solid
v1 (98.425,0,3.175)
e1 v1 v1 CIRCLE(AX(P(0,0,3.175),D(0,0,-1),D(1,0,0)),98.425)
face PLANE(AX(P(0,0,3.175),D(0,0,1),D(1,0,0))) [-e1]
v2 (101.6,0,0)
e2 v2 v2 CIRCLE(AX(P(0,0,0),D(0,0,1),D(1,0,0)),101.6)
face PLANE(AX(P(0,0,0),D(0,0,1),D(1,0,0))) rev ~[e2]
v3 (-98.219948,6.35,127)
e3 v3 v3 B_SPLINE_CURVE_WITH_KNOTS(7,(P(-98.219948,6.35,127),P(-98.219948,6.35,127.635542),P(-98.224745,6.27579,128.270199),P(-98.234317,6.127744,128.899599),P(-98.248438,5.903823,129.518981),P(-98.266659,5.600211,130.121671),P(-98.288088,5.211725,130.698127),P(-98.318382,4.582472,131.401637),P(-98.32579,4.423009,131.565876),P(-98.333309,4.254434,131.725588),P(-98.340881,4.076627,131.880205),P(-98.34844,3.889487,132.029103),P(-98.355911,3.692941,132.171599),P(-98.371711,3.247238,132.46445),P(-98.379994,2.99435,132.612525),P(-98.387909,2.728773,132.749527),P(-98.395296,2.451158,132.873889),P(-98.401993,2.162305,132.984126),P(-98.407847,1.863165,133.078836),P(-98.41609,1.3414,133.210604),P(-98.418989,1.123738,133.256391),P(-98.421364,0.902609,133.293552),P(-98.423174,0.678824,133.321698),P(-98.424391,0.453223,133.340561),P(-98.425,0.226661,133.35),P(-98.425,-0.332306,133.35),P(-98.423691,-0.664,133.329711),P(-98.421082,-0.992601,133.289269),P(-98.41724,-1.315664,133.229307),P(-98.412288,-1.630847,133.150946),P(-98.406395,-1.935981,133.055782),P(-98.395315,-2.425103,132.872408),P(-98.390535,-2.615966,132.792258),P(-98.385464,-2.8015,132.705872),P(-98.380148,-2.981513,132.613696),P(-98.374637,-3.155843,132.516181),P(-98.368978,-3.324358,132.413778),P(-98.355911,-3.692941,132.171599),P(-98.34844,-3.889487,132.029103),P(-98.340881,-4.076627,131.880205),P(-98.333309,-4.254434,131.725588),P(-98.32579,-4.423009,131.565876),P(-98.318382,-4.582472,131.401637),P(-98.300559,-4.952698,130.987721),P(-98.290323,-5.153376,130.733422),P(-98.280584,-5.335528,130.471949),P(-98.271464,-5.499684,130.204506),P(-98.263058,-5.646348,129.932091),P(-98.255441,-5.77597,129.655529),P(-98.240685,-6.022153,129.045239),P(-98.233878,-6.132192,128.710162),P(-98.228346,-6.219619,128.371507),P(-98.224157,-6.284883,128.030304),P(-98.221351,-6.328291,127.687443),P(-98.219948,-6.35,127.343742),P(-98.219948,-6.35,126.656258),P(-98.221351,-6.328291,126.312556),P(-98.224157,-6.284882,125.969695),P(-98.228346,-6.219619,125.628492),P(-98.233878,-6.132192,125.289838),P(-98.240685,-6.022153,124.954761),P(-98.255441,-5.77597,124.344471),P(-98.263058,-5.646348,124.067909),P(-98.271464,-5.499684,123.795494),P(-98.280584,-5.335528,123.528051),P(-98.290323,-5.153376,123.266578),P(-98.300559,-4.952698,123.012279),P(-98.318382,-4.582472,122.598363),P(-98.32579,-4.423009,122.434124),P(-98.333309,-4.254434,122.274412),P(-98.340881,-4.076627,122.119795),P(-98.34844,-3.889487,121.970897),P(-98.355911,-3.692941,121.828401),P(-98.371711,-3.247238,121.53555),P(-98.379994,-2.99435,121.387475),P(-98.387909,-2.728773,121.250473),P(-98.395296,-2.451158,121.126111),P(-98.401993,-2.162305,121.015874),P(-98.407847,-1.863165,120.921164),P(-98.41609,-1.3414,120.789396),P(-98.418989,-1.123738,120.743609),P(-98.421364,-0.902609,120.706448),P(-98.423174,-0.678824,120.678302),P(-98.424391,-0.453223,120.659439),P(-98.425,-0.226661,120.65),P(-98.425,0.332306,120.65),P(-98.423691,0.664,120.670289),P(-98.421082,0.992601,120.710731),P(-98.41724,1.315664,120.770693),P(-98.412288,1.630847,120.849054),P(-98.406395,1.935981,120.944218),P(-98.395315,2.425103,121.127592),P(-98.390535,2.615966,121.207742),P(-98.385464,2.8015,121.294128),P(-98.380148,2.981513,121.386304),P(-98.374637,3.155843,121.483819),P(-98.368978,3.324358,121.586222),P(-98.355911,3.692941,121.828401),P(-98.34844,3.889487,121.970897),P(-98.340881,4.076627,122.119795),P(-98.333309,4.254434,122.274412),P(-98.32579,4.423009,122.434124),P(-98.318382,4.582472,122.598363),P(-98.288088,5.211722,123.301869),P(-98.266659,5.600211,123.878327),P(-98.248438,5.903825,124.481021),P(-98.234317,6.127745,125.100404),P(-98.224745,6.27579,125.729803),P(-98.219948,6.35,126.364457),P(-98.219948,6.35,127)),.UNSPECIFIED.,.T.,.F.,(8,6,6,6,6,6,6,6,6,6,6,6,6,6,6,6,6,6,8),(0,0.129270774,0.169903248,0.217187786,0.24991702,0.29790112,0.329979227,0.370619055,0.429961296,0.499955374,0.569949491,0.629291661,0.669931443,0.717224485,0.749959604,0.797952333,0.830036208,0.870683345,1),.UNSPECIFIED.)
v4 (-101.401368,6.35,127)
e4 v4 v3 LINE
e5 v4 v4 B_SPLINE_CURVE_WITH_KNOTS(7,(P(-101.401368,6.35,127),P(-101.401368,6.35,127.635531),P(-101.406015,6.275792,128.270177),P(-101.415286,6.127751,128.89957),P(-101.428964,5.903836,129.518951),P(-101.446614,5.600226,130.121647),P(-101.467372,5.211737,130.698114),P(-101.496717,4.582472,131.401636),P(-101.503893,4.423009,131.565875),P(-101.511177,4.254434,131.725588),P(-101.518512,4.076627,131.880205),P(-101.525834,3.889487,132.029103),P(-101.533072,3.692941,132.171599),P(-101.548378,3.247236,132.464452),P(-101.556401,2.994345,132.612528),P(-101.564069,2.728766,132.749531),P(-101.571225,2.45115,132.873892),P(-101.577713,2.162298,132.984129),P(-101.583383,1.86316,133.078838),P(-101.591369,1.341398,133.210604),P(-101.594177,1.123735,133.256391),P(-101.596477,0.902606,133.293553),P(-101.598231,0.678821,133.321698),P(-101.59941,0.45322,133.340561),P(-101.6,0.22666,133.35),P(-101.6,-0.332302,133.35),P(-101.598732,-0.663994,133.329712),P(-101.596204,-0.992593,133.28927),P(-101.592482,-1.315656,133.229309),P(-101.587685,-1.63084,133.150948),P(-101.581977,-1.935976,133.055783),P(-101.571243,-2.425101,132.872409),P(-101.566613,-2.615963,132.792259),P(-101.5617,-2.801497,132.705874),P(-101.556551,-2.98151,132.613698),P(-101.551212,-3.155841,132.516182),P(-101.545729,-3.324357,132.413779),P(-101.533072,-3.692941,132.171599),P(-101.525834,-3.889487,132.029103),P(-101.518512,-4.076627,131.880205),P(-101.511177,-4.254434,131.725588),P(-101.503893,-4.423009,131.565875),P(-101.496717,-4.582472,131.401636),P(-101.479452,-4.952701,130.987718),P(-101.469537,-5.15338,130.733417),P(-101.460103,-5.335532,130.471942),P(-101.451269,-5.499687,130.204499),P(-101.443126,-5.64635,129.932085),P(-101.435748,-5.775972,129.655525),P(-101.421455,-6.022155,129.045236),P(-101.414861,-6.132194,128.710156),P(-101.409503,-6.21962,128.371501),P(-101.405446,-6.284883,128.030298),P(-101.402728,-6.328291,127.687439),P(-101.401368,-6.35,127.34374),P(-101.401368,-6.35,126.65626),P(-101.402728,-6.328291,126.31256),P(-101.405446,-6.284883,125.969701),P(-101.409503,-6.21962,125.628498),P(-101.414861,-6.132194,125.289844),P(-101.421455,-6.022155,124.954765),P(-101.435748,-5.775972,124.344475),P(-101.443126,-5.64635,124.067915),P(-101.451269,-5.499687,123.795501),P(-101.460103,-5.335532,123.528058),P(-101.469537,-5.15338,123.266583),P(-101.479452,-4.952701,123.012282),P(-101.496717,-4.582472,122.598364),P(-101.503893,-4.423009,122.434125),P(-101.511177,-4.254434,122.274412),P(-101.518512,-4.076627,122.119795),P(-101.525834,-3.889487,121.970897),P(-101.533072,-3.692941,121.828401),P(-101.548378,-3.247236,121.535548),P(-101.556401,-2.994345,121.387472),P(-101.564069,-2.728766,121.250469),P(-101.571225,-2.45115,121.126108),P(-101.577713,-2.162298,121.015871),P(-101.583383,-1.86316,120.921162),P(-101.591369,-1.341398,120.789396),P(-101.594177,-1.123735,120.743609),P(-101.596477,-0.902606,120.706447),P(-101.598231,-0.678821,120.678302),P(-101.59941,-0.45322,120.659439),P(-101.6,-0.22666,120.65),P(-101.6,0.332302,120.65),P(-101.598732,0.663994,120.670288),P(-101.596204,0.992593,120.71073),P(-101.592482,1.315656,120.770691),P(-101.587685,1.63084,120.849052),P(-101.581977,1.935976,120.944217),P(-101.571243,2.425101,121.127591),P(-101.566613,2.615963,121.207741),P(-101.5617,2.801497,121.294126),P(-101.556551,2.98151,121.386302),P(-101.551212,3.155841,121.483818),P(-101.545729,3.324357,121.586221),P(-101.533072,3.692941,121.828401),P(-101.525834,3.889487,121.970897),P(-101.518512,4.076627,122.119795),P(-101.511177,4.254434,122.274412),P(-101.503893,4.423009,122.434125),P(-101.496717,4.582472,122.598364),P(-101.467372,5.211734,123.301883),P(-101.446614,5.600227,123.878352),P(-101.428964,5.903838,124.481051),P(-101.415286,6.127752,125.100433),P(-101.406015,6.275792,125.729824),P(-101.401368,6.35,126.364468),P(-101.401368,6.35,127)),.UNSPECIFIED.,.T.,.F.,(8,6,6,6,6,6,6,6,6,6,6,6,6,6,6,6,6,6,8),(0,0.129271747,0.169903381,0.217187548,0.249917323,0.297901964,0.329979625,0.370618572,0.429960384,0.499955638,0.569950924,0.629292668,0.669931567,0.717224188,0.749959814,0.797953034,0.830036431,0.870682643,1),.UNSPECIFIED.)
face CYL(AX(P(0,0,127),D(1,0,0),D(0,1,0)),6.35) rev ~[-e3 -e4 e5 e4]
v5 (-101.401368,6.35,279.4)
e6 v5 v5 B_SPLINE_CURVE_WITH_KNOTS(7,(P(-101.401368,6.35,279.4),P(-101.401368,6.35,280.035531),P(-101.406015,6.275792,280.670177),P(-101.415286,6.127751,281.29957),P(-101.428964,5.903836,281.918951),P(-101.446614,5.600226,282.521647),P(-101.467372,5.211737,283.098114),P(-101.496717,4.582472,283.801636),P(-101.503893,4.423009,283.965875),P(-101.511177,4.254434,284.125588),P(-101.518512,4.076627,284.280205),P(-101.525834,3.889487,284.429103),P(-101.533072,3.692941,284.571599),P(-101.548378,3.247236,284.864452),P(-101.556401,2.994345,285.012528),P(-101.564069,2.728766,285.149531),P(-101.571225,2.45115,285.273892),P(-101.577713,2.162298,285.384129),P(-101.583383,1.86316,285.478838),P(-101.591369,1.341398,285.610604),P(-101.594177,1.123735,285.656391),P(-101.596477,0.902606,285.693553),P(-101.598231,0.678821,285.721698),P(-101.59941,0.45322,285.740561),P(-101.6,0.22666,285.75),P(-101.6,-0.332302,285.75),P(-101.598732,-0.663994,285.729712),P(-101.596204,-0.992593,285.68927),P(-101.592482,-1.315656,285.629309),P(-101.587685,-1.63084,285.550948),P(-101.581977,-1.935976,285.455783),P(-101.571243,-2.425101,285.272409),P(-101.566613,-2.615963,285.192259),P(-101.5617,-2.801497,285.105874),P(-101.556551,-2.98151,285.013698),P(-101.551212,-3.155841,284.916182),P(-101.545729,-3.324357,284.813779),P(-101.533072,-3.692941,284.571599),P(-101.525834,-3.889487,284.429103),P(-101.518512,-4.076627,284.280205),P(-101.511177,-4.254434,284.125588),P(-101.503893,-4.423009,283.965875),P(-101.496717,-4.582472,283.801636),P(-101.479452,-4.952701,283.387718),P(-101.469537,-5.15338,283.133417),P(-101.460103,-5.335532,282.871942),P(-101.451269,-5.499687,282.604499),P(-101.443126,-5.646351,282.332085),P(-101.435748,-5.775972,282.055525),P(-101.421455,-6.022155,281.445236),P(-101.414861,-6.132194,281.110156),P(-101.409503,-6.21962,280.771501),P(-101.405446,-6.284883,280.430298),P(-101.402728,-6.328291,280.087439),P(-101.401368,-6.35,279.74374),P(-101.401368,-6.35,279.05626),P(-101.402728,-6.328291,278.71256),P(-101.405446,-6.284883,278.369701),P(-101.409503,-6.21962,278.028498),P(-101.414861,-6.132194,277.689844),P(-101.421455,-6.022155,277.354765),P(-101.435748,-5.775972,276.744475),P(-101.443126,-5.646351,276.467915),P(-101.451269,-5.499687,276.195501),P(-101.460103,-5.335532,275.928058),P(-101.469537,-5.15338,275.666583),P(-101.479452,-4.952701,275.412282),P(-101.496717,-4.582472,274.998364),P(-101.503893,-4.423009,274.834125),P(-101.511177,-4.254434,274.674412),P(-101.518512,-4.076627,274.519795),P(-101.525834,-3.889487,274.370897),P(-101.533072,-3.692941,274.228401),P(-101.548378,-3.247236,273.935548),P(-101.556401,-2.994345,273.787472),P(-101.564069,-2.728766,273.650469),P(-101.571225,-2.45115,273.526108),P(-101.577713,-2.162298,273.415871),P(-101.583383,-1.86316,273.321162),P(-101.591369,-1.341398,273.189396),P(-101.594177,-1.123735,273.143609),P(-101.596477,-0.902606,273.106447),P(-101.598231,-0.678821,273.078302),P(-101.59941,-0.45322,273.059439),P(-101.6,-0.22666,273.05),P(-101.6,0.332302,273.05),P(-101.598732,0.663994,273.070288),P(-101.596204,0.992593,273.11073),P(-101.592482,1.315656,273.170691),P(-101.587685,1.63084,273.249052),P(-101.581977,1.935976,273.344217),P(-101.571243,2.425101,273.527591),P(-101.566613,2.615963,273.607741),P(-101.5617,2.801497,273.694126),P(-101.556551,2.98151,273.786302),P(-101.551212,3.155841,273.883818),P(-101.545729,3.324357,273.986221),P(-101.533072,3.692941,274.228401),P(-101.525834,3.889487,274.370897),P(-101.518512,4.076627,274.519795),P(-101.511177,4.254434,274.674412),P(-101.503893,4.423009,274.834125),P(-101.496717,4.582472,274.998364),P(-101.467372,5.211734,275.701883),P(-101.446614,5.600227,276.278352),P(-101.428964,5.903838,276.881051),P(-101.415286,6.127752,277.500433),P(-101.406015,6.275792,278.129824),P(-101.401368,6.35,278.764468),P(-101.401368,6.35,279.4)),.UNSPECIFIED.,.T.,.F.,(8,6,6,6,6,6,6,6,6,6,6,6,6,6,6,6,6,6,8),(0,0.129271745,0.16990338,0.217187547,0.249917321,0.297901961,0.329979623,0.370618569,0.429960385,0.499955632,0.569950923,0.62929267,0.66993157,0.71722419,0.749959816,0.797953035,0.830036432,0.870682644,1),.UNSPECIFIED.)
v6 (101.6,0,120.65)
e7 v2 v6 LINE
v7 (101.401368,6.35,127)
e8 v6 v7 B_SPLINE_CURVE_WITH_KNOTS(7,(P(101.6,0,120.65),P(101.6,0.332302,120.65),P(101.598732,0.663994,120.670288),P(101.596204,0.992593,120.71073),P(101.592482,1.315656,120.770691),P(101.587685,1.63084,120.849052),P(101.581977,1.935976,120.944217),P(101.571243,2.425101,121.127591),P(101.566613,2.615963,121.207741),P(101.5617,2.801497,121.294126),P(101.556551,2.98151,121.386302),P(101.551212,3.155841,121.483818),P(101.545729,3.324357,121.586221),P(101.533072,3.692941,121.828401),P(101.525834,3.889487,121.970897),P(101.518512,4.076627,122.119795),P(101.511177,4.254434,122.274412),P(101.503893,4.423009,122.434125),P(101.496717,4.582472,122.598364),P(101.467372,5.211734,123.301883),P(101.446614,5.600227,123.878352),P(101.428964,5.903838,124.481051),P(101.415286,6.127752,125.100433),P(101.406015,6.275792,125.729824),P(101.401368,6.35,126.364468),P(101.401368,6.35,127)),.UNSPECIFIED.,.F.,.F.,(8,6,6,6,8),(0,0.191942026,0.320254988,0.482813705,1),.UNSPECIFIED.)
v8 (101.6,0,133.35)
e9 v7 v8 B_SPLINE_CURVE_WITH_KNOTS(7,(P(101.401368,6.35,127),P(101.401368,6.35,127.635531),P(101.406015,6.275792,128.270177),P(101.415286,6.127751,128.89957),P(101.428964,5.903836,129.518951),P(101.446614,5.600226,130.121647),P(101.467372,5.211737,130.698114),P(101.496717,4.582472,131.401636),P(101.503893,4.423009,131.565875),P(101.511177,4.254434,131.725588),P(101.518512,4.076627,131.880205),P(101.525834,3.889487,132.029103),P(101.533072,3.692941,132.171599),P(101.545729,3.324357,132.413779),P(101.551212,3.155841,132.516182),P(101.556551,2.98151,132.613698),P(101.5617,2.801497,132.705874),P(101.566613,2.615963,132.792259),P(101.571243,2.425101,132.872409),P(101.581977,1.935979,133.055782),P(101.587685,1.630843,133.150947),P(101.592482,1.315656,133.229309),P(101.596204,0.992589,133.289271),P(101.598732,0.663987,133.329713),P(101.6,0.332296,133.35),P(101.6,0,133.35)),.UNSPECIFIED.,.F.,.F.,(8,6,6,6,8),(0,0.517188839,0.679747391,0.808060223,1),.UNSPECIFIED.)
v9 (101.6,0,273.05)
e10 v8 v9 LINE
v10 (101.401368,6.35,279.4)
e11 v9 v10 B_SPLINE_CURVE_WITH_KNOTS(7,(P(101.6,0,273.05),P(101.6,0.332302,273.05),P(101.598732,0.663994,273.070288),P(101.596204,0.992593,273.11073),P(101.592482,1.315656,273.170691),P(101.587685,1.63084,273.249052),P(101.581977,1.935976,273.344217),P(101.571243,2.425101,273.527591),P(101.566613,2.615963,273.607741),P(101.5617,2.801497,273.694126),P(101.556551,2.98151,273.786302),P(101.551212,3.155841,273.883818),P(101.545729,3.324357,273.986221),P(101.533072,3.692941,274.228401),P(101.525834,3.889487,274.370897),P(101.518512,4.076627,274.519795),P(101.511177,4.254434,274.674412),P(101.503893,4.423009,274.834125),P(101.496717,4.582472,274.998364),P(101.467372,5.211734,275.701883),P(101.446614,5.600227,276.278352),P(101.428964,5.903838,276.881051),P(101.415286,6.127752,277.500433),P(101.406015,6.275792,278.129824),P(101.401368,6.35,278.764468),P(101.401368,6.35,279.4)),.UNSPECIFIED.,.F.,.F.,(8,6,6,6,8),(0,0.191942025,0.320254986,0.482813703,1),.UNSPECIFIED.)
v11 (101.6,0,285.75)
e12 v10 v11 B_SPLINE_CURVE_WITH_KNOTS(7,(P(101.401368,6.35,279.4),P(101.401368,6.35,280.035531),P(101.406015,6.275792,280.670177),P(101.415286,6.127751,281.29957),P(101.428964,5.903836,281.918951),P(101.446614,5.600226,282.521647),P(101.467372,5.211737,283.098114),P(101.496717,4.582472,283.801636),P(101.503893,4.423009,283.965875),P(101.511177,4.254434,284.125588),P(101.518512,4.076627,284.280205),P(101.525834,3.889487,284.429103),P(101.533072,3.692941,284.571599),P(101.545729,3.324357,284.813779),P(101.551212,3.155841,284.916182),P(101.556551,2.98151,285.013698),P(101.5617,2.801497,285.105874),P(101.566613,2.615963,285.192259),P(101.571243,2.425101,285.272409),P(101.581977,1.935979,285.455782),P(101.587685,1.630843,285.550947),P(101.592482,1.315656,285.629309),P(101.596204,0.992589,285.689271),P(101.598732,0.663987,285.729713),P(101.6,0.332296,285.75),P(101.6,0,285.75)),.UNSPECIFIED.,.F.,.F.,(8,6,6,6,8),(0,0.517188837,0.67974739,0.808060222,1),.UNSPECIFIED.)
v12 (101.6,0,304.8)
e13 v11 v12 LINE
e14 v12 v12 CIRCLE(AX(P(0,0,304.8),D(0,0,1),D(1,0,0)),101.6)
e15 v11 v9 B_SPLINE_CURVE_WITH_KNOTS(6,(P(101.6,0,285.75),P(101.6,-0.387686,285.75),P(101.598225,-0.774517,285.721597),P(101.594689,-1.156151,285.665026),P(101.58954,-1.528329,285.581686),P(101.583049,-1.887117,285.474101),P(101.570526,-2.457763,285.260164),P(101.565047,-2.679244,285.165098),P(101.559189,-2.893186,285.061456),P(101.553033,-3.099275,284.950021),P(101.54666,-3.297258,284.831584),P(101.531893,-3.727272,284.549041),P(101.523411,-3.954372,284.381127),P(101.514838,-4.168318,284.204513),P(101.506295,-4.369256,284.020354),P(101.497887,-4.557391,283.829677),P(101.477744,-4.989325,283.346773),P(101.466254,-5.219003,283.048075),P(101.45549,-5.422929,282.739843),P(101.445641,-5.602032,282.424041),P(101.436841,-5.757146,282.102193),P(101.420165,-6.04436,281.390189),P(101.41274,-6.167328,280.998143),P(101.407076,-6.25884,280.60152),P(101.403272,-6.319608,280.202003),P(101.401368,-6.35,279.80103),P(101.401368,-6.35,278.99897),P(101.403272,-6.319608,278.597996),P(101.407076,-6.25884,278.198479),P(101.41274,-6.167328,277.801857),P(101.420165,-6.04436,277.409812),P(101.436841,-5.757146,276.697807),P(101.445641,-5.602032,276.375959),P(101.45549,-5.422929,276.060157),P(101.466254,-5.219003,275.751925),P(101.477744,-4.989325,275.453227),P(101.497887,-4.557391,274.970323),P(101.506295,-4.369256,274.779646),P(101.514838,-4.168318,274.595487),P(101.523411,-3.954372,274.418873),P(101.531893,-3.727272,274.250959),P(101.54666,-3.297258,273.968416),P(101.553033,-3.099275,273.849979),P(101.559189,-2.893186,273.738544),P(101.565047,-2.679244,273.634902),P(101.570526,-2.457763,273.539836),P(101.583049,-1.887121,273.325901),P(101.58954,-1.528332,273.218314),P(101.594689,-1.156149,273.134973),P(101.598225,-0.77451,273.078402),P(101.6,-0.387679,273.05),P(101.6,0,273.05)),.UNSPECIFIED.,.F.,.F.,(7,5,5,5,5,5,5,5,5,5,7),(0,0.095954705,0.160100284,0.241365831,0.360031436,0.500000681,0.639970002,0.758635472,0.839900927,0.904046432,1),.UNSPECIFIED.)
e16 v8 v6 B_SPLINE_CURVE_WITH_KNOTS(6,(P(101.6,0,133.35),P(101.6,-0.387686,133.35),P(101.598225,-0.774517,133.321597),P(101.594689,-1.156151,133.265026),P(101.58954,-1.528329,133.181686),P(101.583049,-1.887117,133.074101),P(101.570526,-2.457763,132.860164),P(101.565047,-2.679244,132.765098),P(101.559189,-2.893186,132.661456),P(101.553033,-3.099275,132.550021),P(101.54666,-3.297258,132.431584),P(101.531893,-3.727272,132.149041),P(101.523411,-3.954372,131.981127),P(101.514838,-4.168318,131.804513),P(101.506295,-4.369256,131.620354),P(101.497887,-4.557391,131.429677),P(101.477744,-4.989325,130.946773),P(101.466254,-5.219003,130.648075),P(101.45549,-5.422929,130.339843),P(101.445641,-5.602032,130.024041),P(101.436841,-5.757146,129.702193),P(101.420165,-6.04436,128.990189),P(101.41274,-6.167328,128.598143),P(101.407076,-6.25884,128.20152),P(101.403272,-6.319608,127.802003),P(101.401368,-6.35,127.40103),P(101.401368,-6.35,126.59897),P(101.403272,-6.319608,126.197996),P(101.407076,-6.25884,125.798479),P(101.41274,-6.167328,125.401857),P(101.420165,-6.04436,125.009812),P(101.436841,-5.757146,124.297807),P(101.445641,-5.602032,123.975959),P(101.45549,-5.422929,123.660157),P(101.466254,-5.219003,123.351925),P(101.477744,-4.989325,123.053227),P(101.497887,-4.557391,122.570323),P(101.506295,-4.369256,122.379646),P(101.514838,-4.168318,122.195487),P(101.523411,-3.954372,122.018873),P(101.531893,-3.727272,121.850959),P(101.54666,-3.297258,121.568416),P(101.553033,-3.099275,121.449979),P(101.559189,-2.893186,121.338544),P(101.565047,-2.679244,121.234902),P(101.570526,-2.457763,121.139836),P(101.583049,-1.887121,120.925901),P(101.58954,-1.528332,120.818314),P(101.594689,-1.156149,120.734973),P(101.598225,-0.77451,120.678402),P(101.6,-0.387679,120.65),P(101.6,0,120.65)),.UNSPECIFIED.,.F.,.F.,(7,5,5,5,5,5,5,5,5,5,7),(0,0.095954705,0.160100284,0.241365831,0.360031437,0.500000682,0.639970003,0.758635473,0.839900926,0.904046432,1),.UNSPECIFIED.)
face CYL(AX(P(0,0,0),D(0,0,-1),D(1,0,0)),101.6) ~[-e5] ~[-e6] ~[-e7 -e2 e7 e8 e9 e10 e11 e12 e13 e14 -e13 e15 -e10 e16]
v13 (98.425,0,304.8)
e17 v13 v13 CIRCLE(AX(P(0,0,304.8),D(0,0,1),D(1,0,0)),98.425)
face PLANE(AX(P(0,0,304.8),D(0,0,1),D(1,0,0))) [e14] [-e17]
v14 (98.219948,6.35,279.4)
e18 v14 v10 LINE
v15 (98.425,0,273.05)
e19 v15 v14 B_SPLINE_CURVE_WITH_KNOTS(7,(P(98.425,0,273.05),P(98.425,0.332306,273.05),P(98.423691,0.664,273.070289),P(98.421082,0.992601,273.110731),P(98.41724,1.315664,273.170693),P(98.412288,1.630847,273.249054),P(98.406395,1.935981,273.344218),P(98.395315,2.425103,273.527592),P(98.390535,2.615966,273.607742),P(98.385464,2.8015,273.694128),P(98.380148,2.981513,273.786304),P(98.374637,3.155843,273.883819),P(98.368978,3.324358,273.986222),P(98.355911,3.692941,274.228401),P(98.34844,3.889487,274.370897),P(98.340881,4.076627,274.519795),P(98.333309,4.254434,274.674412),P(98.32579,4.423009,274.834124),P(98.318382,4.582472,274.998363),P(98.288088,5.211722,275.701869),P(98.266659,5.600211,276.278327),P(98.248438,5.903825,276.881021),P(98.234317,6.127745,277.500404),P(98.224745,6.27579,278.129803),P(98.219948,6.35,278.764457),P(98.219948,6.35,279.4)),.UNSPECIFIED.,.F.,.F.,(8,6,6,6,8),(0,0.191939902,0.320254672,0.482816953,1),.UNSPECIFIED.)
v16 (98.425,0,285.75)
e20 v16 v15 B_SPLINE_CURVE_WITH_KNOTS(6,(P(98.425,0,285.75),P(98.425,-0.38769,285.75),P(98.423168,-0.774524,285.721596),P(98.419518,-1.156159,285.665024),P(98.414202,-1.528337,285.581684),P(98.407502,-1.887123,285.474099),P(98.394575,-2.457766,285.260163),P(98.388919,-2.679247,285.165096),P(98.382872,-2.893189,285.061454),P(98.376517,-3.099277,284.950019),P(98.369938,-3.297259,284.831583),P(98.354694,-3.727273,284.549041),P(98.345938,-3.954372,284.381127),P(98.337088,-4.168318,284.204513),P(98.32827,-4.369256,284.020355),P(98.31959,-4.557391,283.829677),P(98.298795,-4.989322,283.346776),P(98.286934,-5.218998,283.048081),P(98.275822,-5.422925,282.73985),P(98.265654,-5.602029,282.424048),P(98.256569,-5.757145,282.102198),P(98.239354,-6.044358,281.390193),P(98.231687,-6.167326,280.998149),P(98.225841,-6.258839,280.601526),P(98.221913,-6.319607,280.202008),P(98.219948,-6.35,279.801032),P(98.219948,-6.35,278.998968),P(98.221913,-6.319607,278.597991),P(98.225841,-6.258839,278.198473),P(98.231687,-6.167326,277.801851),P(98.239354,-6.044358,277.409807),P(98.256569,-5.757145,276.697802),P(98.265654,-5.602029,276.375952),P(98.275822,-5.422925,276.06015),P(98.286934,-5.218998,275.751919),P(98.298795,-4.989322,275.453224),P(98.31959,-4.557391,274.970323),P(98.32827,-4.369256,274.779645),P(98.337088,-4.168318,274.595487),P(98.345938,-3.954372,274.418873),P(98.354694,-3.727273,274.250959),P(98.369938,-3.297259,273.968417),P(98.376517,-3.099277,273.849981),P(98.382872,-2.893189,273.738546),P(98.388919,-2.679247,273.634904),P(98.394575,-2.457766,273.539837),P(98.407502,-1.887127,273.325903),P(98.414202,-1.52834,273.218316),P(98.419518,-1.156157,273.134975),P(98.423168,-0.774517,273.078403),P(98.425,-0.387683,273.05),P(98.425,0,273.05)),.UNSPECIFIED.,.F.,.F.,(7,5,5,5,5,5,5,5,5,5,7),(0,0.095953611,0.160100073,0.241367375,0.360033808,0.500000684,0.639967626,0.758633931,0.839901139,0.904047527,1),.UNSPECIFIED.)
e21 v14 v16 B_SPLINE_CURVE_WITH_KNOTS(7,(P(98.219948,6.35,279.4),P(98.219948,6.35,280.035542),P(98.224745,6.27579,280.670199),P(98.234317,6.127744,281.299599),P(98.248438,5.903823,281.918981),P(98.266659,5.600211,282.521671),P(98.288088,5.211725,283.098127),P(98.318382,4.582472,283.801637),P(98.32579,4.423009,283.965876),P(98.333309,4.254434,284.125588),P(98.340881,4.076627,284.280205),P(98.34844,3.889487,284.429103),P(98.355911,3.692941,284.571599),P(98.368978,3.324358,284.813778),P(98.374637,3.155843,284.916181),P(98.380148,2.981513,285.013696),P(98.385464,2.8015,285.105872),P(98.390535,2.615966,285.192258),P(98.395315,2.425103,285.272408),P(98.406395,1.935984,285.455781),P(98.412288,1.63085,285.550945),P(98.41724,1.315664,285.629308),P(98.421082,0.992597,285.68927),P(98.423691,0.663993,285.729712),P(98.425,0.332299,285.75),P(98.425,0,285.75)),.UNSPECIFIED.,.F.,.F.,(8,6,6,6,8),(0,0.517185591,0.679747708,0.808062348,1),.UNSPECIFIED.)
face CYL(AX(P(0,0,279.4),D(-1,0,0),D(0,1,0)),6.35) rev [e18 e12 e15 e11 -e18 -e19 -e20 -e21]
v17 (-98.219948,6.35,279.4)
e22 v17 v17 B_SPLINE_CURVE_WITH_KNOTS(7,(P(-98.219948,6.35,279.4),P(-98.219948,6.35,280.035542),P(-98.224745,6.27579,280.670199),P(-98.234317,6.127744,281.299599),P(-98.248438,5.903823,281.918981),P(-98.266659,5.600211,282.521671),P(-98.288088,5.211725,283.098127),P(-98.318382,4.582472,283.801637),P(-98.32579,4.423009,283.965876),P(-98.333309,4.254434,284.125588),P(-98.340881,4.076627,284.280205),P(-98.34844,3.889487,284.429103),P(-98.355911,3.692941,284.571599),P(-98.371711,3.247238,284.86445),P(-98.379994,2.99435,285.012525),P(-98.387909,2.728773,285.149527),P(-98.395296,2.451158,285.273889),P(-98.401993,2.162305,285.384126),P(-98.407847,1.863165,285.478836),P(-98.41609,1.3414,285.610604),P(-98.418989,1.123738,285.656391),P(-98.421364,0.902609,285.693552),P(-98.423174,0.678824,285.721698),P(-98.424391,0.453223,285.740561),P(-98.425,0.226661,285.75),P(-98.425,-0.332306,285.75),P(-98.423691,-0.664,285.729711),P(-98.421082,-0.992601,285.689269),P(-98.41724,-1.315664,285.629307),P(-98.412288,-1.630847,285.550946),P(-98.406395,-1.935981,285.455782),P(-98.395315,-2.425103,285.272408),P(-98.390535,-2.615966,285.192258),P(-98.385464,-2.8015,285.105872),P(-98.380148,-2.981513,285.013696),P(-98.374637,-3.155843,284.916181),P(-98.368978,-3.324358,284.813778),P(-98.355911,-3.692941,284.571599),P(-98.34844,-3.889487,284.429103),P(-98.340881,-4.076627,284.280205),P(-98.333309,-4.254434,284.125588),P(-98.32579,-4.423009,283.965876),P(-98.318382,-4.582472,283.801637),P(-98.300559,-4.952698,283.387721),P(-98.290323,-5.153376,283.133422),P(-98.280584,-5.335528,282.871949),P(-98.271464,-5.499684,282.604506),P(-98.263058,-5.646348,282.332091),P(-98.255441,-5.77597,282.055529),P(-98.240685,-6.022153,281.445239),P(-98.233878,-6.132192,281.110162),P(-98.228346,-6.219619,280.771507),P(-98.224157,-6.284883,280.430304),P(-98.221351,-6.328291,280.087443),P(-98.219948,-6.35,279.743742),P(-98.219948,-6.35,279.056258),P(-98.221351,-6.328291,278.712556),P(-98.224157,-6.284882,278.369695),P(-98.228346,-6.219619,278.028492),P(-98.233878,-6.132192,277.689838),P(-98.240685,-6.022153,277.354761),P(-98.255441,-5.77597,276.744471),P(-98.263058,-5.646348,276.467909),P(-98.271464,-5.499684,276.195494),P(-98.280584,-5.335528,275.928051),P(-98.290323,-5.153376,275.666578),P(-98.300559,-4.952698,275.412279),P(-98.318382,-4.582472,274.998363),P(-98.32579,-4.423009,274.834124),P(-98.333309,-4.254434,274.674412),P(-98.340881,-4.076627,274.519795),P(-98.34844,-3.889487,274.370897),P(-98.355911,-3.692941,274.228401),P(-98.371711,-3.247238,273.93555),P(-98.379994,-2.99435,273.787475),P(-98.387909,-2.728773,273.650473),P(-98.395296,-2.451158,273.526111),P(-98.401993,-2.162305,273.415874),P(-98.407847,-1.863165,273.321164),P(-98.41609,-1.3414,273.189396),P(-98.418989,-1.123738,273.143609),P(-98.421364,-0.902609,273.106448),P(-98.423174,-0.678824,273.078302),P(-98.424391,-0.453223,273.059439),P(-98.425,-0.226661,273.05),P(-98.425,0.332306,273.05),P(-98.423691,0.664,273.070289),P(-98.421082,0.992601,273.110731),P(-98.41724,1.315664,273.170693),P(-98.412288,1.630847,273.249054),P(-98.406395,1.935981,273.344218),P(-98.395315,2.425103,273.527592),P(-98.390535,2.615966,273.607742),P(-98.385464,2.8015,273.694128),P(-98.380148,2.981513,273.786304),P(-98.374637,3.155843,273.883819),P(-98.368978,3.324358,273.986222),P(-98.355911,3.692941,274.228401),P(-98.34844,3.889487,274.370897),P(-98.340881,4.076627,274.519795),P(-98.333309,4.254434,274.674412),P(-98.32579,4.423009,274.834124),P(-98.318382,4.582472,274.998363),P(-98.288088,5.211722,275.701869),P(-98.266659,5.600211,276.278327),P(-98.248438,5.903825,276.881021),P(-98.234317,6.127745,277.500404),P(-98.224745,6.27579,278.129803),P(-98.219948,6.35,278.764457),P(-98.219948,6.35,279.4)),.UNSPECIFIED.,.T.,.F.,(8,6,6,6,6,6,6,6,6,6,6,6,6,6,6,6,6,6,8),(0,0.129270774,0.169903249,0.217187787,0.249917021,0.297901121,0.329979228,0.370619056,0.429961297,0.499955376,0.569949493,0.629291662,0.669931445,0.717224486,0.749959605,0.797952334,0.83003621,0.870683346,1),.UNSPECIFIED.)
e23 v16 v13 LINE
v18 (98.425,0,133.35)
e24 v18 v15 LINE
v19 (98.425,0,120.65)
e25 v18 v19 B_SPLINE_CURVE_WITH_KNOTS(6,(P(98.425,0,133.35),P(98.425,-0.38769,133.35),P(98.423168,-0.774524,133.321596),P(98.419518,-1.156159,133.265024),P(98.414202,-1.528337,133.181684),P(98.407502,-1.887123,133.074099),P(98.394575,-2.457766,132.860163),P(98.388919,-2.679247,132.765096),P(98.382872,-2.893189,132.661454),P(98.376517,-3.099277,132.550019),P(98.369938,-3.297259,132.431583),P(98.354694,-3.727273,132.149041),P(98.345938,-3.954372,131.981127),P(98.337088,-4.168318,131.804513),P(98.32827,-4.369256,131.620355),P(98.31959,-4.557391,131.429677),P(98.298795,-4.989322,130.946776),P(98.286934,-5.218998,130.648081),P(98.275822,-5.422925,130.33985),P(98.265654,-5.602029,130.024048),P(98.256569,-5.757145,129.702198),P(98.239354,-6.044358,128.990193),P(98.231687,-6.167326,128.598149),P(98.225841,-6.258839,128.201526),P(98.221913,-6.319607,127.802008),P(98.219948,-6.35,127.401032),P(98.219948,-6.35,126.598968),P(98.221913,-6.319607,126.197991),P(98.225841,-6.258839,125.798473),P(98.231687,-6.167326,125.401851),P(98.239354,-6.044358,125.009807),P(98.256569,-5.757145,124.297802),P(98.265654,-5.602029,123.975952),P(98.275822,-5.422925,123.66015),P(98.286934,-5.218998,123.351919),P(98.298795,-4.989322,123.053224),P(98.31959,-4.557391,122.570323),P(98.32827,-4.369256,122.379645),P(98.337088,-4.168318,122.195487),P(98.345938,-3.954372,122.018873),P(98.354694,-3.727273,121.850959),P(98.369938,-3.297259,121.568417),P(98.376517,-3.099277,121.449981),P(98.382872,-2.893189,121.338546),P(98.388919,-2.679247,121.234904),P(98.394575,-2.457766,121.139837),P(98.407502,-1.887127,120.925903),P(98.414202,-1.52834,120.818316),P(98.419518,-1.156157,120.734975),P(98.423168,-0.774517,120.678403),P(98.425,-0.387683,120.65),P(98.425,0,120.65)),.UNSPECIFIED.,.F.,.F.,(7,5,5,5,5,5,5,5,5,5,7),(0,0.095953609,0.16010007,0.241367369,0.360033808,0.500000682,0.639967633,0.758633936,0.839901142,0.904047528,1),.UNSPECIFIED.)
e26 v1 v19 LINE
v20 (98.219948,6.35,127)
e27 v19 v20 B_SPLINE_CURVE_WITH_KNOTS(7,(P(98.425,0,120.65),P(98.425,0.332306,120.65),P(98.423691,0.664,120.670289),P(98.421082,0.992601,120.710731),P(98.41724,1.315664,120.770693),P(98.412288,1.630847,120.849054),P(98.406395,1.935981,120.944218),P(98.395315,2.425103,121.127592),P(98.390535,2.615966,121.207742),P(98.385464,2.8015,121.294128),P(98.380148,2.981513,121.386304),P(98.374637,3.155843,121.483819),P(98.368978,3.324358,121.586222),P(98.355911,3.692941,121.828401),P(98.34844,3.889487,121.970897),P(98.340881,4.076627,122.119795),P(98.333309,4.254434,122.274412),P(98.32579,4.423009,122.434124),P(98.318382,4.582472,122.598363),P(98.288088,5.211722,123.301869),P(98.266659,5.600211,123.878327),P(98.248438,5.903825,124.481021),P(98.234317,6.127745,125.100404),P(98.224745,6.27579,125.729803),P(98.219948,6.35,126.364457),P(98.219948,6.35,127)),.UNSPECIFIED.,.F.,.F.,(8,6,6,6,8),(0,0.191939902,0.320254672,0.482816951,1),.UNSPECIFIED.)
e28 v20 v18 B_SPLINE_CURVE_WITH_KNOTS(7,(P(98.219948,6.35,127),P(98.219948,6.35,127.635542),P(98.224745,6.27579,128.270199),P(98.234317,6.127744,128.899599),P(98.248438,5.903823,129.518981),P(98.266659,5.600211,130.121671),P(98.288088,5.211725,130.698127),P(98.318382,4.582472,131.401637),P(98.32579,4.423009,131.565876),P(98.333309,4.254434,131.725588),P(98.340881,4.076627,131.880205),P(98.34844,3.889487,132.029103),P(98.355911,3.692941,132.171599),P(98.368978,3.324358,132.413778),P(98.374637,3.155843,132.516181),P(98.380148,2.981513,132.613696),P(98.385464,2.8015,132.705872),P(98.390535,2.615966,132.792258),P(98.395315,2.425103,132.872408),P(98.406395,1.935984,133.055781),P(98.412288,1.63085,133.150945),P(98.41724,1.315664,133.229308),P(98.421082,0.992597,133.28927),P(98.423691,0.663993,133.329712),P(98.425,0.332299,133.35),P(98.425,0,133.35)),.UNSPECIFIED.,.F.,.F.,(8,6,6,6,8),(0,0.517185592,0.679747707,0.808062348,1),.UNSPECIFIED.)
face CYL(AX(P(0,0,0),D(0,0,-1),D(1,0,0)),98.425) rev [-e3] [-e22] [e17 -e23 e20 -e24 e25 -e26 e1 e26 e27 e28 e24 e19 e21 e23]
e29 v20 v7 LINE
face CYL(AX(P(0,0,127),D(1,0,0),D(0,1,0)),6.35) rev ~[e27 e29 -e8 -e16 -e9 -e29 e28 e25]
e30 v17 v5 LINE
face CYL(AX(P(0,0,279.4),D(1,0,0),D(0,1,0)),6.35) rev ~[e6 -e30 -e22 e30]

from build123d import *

# Parameters (mm, degrees)
F0_R     = 101.6
F1_DEPTH = 304.8
F2_T     = -3.175
F3_R     = 6.35
F4_DEPTH = 279.4


with BuildPart() as f1:
    # F0 (on Top) → F1 (new body)
    with BuildSketch(Plane.XY):
        Circle(F0_R)
    extrude(amount=F1_DEPTH)

    # F2
    f2_openings = [f1.faces().sort_by_distance(p)[0] for p in [
        (0, 0, 304.8),
    ]]
    offset(amount=F2_T, openings=f2_openings)

    # F3 (on Right) → F4 (cut, symmetric)
    with BuildSketch(Plane.YZ):
        with Locations((0, 279.4)):
            Circle(F3_R)
        with Locations((0, 127)):
            Circle(F3_R)
    extrude(amount=F4_DEPTH, both=True, mode=Mode.SUBTRACT)


solid = f1.part
